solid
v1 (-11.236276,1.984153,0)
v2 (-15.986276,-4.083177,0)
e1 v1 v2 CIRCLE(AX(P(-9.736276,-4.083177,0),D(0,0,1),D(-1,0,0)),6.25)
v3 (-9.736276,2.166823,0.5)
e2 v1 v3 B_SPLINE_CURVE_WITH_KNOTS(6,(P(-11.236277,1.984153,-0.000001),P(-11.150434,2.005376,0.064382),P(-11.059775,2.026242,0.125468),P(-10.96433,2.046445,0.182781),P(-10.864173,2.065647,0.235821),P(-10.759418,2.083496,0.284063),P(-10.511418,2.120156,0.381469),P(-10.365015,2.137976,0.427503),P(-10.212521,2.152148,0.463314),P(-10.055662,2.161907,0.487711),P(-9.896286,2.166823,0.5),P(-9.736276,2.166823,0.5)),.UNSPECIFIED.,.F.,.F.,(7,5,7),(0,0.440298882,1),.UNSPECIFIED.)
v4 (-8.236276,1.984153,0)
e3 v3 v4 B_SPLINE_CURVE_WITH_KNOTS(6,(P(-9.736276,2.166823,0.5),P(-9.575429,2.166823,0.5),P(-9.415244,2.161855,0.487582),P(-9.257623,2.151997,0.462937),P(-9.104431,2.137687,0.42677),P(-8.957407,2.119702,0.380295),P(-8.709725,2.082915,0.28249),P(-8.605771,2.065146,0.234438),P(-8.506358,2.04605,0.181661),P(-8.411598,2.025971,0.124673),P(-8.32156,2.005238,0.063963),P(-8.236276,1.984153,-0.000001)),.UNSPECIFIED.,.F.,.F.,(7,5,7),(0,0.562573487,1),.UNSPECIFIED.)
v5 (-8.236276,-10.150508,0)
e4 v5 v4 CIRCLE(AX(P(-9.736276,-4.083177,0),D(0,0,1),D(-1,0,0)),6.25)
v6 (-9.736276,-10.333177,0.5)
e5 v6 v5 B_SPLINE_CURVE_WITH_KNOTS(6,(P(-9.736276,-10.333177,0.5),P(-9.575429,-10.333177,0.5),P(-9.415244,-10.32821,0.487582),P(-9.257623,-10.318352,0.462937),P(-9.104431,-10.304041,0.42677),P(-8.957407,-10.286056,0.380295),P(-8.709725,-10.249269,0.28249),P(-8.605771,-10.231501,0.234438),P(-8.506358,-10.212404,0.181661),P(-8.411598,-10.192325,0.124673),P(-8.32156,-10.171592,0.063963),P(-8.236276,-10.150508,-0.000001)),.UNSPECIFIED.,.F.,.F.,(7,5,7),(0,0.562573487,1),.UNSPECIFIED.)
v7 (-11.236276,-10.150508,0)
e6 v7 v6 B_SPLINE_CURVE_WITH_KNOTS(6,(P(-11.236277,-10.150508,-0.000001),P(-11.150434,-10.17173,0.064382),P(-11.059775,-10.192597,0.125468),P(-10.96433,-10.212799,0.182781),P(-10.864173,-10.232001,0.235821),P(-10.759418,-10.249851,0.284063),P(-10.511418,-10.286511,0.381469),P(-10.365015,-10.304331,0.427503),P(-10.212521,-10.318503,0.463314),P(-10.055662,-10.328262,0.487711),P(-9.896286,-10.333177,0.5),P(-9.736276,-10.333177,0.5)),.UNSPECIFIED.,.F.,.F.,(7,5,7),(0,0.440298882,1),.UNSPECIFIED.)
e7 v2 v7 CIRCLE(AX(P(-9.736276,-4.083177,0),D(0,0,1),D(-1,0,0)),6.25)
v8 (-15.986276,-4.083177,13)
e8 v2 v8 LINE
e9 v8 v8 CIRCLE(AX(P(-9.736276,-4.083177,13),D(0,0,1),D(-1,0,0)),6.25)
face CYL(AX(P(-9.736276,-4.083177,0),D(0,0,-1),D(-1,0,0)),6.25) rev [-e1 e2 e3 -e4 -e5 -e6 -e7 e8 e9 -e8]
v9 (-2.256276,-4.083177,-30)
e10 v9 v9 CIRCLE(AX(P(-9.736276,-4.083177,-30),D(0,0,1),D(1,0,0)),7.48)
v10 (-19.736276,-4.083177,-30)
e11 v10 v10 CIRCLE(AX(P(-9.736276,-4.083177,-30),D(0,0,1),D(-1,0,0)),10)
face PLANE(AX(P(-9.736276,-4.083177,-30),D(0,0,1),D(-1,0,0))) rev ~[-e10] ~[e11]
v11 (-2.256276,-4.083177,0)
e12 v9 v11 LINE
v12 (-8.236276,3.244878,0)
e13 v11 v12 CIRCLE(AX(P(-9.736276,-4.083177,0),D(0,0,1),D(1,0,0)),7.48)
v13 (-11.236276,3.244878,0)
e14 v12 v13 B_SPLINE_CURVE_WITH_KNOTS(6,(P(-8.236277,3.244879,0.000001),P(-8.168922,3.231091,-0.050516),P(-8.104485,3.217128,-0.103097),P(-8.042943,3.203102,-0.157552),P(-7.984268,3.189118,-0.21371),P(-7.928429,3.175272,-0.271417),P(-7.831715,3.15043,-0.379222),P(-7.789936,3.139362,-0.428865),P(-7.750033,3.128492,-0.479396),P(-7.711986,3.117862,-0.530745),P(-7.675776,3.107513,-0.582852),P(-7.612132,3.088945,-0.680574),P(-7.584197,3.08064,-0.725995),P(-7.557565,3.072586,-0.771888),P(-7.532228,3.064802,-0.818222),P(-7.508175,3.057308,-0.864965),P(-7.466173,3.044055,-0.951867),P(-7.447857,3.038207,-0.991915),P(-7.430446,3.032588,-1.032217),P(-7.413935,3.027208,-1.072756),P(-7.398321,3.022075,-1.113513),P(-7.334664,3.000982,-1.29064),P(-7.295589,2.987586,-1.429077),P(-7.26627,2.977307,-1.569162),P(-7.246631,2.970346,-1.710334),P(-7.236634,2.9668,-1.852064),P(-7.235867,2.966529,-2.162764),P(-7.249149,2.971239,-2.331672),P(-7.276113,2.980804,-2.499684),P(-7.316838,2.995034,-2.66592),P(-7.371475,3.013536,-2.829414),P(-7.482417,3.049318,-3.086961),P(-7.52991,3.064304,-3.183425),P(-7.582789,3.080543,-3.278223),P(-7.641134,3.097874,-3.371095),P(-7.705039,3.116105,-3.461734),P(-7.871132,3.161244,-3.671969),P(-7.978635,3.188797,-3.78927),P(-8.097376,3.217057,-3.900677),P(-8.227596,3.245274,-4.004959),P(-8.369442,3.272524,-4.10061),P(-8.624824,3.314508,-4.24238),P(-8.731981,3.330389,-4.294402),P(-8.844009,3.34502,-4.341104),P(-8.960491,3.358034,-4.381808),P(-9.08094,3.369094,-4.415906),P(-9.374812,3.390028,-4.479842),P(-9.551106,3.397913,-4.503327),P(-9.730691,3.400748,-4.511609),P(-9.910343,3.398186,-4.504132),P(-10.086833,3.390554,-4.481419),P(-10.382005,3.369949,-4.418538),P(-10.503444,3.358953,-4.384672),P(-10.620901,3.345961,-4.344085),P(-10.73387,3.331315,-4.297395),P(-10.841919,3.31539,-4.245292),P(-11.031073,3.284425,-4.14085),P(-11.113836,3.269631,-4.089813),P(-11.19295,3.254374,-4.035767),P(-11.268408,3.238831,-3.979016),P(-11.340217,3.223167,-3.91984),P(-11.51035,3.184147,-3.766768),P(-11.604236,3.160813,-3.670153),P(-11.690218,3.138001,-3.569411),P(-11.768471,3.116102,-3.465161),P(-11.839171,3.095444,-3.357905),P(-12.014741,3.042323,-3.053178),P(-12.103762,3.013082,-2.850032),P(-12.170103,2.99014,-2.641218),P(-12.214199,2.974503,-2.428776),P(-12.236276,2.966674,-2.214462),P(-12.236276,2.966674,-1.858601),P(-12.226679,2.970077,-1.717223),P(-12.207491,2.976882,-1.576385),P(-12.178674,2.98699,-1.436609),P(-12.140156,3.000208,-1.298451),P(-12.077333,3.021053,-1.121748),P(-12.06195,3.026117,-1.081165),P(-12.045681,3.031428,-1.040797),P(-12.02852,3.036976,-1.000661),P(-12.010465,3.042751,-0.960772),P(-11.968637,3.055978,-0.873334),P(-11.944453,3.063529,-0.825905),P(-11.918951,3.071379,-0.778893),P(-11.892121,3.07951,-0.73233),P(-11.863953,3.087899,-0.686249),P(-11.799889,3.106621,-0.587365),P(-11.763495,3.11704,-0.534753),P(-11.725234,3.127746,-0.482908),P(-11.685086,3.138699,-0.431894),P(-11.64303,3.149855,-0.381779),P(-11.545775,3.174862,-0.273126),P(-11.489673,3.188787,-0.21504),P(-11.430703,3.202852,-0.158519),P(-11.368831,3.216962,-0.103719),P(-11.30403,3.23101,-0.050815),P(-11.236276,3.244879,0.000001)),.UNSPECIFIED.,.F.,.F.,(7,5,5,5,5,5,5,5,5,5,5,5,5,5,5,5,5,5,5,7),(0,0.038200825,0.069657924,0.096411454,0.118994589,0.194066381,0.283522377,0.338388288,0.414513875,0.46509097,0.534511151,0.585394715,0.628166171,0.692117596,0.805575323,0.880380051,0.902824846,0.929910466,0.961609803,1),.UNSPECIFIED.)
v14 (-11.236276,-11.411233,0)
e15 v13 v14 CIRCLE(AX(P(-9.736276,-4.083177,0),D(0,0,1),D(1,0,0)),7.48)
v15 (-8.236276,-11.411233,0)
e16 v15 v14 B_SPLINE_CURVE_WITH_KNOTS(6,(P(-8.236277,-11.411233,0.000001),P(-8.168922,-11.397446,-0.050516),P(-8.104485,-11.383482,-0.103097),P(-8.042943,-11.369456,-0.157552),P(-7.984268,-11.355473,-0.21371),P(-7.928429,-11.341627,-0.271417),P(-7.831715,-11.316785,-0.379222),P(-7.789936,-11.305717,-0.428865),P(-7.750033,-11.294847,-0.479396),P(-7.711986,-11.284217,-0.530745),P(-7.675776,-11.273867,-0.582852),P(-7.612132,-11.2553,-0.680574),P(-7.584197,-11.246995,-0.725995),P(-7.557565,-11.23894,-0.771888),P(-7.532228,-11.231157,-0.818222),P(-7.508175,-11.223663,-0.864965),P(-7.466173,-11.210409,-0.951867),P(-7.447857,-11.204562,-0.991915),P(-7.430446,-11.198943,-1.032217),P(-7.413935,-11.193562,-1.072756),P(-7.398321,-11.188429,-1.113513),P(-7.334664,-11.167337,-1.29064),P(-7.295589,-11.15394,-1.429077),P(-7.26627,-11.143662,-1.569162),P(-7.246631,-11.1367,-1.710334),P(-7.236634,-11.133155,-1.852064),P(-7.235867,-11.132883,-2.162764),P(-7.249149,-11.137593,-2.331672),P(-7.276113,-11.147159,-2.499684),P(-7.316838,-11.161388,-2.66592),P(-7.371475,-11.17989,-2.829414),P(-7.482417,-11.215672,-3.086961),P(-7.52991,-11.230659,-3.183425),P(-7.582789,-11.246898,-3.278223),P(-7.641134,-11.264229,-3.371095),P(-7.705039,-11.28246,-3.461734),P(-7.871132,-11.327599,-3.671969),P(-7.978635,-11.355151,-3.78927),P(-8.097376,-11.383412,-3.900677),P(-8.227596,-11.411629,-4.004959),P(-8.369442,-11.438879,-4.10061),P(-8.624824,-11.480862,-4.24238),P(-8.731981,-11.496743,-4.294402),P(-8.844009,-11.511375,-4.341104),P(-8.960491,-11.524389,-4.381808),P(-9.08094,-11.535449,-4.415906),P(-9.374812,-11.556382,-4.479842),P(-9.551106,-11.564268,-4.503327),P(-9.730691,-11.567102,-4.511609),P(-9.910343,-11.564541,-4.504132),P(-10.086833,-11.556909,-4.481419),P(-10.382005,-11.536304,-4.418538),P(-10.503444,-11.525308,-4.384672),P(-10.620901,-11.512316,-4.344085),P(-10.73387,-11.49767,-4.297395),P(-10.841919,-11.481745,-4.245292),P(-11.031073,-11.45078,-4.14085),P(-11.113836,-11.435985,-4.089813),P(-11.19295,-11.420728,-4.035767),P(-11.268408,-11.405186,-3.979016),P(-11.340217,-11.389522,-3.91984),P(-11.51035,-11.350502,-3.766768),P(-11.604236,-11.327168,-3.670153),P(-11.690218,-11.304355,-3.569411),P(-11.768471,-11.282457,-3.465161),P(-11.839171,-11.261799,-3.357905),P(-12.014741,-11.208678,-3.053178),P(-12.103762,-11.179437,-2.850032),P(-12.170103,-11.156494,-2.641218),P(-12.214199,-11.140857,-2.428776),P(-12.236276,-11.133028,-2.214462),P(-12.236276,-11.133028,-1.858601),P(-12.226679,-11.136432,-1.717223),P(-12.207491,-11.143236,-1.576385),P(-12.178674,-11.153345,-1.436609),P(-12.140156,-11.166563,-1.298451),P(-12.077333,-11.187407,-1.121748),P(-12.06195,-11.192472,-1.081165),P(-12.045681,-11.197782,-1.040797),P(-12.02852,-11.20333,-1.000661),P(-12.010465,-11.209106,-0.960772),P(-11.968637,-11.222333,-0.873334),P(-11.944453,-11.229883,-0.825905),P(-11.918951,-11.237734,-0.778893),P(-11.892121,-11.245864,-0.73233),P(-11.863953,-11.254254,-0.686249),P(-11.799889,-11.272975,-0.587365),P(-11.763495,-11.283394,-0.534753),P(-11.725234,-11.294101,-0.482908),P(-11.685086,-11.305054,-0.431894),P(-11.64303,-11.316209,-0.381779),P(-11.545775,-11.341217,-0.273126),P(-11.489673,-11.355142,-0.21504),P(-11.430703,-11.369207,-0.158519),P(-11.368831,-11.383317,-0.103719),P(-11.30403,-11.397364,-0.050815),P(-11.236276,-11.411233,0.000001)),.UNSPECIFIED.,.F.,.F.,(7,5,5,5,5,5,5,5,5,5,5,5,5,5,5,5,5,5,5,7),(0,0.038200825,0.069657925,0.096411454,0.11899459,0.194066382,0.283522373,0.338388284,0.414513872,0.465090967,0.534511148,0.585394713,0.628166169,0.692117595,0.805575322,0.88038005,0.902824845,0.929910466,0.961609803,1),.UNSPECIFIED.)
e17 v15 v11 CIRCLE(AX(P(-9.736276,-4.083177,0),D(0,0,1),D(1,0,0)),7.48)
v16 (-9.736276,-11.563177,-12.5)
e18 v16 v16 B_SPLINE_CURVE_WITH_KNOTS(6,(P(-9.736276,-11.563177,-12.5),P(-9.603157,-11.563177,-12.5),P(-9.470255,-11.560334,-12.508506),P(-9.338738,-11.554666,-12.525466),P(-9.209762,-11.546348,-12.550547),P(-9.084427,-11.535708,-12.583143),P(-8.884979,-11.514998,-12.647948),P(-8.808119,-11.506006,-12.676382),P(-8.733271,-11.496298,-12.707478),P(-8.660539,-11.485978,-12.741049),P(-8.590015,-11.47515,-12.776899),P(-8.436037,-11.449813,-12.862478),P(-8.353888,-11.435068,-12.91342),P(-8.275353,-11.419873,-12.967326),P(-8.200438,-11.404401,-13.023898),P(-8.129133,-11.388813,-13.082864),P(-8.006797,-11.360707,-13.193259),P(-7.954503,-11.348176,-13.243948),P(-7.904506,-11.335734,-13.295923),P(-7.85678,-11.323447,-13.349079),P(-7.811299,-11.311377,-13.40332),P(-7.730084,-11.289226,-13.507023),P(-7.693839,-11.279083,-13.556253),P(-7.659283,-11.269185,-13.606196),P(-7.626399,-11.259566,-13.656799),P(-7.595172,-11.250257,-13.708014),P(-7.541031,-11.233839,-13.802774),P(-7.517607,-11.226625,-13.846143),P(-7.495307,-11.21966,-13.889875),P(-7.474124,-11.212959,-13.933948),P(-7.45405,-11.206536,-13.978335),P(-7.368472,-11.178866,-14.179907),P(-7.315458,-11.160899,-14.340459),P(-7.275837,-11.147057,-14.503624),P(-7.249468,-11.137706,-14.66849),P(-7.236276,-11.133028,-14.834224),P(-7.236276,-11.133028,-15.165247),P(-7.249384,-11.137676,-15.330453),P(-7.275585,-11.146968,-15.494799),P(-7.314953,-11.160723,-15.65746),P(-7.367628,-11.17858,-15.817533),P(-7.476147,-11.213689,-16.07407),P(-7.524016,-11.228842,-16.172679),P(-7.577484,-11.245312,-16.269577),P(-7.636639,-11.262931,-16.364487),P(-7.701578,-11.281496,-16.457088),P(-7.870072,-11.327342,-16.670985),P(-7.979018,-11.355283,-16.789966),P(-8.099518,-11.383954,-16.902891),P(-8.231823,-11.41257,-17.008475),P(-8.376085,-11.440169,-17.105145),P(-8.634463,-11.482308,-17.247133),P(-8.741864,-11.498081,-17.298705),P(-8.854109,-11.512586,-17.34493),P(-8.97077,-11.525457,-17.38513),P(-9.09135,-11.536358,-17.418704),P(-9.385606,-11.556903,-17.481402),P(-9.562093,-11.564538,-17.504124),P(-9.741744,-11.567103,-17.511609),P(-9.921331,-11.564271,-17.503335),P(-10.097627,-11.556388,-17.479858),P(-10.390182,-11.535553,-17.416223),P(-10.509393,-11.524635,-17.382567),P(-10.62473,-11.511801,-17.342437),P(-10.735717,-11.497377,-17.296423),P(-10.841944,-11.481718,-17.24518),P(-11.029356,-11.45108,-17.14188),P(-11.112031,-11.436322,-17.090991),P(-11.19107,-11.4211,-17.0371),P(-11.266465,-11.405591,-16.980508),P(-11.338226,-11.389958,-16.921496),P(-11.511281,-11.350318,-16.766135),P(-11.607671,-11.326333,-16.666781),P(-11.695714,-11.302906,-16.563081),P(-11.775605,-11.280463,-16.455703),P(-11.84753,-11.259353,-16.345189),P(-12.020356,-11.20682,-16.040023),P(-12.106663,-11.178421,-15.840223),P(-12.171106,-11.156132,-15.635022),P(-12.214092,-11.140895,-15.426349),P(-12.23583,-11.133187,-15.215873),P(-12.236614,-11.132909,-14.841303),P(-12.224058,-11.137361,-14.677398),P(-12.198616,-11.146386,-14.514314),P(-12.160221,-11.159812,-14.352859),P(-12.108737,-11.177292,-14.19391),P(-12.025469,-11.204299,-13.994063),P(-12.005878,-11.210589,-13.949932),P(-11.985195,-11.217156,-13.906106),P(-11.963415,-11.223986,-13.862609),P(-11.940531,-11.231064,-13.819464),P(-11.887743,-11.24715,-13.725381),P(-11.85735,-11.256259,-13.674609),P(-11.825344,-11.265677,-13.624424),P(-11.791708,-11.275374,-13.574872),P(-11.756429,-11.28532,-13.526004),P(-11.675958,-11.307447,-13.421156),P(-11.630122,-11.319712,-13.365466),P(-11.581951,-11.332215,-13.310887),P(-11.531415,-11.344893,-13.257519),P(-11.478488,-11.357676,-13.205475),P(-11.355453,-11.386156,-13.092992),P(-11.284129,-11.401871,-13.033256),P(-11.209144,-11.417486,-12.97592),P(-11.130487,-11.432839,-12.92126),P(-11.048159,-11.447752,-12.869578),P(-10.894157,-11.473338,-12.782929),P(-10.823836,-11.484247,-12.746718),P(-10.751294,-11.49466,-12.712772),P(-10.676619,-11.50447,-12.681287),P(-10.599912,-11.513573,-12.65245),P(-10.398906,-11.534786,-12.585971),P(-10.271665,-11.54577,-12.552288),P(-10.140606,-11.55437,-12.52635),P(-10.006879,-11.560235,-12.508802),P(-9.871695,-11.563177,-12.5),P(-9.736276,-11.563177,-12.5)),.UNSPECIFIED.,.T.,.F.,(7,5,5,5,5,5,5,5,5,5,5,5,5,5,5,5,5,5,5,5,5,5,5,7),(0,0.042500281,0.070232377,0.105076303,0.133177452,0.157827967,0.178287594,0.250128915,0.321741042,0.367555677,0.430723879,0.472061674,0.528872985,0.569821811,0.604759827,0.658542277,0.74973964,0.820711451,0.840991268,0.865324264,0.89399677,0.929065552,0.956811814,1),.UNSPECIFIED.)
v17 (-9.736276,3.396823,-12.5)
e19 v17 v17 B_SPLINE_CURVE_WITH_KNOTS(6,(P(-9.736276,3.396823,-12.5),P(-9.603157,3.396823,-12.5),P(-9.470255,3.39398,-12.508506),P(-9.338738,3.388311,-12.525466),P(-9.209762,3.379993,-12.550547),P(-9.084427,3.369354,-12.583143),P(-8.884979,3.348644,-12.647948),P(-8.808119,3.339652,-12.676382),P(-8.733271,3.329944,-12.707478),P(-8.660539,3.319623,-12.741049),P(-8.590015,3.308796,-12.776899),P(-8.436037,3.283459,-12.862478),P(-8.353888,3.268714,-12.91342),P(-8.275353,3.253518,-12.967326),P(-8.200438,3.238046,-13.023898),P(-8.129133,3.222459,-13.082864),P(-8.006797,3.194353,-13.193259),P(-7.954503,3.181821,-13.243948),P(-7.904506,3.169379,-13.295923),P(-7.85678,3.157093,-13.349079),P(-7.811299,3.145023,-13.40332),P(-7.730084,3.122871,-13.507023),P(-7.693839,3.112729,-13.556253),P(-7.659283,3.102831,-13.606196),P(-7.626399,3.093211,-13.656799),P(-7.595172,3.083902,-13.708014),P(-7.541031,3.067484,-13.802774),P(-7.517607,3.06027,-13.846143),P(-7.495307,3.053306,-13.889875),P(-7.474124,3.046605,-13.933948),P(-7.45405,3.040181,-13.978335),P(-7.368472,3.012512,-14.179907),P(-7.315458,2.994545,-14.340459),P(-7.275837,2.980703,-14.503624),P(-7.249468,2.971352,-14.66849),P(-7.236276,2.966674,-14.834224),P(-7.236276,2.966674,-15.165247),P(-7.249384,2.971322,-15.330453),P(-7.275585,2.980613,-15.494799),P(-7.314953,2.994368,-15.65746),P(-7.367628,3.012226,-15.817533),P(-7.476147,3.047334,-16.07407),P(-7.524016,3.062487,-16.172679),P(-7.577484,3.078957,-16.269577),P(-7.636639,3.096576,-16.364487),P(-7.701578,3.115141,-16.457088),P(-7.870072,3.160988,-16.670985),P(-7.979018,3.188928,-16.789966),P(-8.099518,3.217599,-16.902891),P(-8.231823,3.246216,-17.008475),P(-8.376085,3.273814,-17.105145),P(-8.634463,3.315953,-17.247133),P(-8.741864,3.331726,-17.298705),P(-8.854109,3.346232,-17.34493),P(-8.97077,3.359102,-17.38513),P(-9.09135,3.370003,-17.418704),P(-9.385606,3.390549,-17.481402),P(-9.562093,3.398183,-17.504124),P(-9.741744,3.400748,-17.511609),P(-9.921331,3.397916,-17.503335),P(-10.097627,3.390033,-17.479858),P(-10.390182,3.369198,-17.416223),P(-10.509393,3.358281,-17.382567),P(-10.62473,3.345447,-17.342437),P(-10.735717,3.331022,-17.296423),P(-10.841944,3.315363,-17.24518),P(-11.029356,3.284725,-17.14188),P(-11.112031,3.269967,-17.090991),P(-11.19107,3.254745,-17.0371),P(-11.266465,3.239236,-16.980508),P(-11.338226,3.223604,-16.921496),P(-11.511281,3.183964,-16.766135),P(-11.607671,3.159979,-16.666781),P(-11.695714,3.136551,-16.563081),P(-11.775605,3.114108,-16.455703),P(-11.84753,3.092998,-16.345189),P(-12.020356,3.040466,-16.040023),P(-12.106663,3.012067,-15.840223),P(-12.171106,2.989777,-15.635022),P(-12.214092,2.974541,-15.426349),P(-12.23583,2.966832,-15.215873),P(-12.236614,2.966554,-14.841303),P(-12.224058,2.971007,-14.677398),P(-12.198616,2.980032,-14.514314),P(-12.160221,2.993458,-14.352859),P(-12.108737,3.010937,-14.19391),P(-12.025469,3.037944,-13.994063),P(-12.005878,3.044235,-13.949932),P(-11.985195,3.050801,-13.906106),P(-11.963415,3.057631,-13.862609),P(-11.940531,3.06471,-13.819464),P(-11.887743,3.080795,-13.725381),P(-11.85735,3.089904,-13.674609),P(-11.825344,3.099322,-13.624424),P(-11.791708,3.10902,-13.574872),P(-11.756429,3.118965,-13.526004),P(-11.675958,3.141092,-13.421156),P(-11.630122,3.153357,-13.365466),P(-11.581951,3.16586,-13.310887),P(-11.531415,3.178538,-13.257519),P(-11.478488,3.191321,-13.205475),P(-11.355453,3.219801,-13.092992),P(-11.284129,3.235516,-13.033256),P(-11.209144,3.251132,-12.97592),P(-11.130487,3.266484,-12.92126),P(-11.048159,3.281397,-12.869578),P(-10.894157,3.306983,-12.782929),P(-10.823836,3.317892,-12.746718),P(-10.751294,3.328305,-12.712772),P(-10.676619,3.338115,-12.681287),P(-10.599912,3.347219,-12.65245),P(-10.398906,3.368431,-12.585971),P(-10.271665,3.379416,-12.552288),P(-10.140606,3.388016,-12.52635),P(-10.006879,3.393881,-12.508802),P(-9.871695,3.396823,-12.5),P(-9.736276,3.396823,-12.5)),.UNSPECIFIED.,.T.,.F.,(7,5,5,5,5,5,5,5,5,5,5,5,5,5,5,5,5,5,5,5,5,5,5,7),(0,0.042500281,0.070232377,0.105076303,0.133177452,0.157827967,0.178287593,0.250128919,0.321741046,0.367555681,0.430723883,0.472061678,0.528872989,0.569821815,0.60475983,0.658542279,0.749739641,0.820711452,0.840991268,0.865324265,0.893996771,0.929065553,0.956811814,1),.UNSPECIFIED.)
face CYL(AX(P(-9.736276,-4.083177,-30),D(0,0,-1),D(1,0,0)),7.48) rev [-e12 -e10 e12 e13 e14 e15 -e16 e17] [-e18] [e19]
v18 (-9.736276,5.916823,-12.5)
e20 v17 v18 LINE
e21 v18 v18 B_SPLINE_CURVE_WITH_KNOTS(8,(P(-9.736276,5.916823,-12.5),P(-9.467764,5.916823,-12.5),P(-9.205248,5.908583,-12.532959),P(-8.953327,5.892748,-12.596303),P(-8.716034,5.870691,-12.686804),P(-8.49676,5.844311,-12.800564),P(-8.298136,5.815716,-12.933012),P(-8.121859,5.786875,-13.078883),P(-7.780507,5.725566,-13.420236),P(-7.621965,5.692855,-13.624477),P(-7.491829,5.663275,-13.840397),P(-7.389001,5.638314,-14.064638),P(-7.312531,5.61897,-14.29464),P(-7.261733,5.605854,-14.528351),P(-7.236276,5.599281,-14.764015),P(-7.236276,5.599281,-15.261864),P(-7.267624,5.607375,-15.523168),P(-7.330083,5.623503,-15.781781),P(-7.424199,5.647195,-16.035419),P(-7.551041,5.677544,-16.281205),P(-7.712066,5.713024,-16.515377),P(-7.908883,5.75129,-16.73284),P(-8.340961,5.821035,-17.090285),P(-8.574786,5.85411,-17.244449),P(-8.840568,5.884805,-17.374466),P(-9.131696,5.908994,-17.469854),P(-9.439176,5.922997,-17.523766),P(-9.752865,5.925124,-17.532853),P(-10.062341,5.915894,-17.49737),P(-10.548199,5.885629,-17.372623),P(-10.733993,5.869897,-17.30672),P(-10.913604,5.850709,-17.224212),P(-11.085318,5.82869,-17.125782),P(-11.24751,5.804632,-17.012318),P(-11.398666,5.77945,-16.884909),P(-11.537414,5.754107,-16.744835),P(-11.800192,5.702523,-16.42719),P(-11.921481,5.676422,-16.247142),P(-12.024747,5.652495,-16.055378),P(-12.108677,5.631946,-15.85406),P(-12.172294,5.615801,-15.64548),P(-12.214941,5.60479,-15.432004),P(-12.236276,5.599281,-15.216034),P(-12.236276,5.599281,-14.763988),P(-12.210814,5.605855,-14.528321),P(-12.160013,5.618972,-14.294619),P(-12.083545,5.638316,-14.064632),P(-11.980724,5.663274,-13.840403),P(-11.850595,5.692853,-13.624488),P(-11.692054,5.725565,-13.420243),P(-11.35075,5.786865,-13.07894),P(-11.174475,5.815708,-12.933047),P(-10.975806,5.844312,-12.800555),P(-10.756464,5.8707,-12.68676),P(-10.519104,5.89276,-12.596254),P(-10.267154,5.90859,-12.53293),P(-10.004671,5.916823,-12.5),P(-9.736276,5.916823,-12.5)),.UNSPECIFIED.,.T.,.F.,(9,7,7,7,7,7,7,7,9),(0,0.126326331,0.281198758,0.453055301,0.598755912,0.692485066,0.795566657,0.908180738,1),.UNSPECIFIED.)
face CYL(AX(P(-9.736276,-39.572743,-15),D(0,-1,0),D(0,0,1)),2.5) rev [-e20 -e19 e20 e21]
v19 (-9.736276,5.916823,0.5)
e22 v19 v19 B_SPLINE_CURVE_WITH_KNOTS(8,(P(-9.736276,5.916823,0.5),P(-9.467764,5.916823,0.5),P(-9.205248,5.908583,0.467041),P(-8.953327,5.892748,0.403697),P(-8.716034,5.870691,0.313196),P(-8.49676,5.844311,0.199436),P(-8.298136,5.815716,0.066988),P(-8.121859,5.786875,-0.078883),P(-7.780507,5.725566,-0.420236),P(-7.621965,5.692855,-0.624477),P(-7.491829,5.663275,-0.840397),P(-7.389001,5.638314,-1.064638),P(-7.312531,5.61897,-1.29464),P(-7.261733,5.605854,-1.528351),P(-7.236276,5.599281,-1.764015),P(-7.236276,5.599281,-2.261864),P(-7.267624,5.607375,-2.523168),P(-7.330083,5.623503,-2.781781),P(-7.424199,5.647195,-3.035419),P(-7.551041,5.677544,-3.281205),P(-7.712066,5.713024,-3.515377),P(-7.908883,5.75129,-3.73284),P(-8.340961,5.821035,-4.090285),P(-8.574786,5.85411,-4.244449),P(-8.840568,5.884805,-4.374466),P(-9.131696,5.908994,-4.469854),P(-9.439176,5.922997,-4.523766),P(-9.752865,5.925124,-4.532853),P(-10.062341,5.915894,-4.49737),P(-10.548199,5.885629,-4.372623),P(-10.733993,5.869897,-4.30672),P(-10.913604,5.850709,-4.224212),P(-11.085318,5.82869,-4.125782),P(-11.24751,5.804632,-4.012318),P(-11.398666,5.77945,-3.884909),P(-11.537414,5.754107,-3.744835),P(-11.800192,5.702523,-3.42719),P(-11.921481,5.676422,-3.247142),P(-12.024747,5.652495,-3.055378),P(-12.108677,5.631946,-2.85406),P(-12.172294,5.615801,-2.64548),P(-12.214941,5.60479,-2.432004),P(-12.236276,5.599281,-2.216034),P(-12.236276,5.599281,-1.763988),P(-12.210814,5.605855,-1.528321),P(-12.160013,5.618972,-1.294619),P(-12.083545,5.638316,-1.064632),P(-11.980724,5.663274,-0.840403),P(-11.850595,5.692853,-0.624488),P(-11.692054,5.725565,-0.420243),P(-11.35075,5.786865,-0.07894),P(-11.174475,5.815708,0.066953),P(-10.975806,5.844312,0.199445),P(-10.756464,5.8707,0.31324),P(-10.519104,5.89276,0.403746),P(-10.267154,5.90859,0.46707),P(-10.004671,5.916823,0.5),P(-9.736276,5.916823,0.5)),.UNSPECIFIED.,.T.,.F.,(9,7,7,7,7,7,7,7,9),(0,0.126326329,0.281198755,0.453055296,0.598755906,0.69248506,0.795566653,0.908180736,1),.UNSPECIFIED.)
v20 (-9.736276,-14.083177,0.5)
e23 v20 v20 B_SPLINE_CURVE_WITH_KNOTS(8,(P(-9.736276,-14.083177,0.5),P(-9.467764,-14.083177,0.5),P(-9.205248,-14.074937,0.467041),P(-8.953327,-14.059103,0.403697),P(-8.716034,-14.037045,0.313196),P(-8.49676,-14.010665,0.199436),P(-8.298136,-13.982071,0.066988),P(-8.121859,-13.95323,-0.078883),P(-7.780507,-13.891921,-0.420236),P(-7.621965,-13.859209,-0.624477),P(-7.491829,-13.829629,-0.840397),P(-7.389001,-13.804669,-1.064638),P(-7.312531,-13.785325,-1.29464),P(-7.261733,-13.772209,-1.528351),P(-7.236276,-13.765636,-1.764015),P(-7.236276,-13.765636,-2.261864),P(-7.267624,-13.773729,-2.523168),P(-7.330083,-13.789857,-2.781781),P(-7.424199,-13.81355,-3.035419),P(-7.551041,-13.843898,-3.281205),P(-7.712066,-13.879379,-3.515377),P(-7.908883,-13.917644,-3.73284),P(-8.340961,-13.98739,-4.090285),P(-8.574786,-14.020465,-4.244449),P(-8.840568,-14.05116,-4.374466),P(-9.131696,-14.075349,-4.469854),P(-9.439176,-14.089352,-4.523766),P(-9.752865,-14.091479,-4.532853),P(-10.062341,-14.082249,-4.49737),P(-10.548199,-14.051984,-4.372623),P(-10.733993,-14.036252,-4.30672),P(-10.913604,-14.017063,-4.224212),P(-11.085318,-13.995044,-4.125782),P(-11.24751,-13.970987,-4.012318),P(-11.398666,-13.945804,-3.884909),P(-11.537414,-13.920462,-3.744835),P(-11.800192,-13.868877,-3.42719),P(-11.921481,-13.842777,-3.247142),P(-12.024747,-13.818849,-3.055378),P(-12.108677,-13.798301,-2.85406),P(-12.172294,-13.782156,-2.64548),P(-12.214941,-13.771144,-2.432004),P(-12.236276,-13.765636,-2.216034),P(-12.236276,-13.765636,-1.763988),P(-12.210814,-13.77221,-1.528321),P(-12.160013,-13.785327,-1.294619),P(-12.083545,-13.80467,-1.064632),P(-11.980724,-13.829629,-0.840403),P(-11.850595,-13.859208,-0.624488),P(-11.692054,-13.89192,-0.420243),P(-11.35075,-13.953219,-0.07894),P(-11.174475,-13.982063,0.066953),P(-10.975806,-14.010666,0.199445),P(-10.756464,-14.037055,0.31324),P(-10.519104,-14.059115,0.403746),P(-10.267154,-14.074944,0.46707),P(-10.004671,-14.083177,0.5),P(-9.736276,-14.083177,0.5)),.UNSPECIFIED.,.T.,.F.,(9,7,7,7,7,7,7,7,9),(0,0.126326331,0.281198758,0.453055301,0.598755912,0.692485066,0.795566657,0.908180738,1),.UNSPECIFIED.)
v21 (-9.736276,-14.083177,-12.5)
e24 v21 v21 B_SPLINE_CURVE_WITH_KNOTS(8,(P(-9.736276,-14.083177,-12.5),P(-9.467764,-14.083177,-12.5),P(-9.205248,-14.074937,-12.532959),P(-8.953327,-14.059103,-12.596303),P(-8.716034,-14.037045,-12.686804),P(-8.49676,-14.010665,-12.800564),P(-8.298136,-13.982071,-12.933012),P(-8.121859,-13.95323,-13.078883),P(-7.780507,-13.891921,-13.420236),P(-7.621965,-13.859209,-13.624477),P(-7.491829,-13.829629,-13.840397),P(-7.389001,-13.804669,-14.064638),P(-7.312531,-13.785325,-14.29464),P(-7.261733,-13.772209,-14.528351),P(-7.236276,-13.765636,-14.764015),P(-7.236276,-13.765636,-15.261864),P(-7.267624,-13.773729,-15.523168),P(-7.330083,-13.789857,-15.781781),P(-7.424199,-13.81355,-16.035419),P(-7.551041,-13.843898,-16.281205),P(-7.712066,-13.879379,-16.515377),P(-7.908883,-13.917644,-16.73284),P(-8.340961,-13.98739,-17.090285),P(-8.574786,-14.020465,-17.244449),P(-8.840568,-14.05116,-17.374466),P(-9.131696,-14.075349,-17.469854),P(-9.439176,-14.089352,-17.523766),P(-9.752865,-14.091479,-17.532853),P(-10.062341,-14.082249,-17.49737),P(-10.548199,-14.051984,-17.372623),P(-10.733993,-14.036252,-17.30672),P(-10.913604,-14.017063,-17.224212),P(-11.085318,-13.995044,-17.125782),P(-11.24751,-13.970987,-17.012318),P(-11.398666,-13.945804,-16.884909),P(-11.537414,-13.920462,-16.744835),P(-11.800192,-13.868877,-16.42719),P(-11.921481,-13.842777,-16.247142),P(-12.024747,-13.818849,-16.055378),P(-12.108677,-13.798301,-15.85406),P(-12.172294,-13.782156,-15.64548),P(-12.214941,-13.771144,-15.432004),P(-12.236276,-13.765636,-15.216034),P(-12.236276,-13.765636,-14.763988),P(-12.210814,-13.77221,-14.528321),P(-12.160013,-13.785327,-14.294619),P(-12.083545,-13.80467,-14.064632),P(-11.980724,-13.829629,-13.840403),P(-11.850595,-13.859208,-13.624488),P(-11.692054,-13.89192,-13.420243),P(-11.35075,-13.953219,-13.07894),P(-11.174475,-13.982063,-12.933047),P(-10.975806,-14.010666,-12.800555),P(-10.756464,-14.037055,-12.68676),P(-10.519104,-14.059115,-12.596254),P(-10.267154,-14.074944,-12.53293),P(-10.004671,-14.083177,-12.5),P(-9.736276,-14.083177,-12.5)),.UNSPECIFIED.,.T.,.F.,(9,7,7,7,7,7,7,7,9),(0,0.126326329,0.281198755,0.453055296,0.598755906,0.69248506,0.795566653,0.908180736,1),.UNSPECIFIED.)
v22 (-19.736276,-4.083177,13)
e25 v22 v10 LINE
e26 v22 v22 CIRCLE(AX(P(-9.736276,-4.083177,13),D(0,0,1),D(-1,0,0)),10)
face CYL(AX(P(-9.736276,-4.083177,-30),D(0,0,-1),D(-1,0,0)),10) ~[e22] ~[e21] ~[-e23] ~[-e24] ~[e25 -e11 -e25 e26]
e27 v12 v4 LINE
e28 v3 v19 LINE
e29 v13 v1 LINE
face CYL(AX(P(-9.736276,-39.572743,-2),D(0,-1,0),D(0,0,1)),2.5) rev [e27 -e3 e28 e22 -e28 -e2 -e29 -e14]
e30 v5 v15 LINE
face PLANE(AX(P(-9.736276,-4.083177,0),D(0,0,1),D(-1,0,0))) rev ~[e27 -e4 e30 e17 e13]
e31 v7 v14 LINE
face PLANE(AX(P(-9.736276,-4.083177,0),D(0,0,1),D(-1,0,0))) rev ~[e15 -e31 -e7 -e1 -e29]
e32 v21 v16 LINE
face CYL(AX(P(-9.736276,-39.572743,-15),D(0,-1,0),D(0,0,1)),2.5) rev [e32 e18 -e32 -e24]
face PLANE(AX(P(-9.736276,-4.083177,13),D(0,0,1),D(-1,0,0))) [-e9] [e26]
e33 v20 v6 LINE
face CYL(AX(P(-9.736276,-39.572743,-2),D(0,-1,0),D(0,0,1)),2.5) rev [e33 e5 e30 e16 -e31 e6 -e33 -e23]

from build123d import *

# Parameters (mm, degrees)
CROQUIS1_R                 = 10
CROQUIS1_R_2               = 6.25
SALIENTE_EXTRUIR1_DEPTH    = 13
SALIENTE_EXTRUIR2_START    = -30
CROQUIS2_R                 = 10
CROQUIS2_R_2               = 7.48
SALIENTE_EXTRUIR2_DEPTH    = 30
CORTAR_EXTRUIR1_DEPTH      = 39.57274278
CORTAR_EXTRUIR1_DEPTH_BACK = 39.57274278
CROQUIS3_R                 = 2.5


with BuildPart() as part:
    # Croquis1 → Saliente-Extruir1 (new body)
    with BuildSketch(Plane.XY):
        with Locations((-9.736276302, -4.083177315)):
            Circle(CROQUIS1_R)
        with Locations((-9.736276302, -4.083177315)):
            Circle(CROQUIS1_R_2, mode=Mode.SUBTRACT)
    extrude(amount=SALIENTE_EXTRUIR1_DEPTH)

    # Croquis2 → Saliente-Extruir2 (add)
    with BuildSketch(Plane.XY.offset(SALIENTE_EXTRUIR2_START)):
        with Locations((-9.736276302, -4.083177315)):
            Circle(CROQUIS2_R)
        with Locations((-9.736276302, -4.083177315)):
            Circle(CROQUIS2_R_2, mode=Mode.SUBTRACT)
    extrude(amount=SALIENTE_EXTRUIR2_DEPTH)

    # Croquis3 → Cortar-Extruir1 (cut, two sides: drawn at the far end of the back side and taken through both)
    with BuildSketch(Plane(origin=(0, 0, 0), x_dir=(1, 0, 0), z_dir=(0, 1, 0)).offset(-CORTAR_EXTRUIR1_DEPTH_BACK)):
        with Locations((-9.736276302, 15)):
            Circle(CROQUIS3_R)
        with Locations((-9.736276302, 2)):
            Circle(CROQUIS3_R)
    extrude(amount=CORTAR_EXTRUIR1_DEPTH + CORTAR_EXTRUIR1_DEPTH_BACK, mode=Mode.SUBTRACT)


solid = part.part
